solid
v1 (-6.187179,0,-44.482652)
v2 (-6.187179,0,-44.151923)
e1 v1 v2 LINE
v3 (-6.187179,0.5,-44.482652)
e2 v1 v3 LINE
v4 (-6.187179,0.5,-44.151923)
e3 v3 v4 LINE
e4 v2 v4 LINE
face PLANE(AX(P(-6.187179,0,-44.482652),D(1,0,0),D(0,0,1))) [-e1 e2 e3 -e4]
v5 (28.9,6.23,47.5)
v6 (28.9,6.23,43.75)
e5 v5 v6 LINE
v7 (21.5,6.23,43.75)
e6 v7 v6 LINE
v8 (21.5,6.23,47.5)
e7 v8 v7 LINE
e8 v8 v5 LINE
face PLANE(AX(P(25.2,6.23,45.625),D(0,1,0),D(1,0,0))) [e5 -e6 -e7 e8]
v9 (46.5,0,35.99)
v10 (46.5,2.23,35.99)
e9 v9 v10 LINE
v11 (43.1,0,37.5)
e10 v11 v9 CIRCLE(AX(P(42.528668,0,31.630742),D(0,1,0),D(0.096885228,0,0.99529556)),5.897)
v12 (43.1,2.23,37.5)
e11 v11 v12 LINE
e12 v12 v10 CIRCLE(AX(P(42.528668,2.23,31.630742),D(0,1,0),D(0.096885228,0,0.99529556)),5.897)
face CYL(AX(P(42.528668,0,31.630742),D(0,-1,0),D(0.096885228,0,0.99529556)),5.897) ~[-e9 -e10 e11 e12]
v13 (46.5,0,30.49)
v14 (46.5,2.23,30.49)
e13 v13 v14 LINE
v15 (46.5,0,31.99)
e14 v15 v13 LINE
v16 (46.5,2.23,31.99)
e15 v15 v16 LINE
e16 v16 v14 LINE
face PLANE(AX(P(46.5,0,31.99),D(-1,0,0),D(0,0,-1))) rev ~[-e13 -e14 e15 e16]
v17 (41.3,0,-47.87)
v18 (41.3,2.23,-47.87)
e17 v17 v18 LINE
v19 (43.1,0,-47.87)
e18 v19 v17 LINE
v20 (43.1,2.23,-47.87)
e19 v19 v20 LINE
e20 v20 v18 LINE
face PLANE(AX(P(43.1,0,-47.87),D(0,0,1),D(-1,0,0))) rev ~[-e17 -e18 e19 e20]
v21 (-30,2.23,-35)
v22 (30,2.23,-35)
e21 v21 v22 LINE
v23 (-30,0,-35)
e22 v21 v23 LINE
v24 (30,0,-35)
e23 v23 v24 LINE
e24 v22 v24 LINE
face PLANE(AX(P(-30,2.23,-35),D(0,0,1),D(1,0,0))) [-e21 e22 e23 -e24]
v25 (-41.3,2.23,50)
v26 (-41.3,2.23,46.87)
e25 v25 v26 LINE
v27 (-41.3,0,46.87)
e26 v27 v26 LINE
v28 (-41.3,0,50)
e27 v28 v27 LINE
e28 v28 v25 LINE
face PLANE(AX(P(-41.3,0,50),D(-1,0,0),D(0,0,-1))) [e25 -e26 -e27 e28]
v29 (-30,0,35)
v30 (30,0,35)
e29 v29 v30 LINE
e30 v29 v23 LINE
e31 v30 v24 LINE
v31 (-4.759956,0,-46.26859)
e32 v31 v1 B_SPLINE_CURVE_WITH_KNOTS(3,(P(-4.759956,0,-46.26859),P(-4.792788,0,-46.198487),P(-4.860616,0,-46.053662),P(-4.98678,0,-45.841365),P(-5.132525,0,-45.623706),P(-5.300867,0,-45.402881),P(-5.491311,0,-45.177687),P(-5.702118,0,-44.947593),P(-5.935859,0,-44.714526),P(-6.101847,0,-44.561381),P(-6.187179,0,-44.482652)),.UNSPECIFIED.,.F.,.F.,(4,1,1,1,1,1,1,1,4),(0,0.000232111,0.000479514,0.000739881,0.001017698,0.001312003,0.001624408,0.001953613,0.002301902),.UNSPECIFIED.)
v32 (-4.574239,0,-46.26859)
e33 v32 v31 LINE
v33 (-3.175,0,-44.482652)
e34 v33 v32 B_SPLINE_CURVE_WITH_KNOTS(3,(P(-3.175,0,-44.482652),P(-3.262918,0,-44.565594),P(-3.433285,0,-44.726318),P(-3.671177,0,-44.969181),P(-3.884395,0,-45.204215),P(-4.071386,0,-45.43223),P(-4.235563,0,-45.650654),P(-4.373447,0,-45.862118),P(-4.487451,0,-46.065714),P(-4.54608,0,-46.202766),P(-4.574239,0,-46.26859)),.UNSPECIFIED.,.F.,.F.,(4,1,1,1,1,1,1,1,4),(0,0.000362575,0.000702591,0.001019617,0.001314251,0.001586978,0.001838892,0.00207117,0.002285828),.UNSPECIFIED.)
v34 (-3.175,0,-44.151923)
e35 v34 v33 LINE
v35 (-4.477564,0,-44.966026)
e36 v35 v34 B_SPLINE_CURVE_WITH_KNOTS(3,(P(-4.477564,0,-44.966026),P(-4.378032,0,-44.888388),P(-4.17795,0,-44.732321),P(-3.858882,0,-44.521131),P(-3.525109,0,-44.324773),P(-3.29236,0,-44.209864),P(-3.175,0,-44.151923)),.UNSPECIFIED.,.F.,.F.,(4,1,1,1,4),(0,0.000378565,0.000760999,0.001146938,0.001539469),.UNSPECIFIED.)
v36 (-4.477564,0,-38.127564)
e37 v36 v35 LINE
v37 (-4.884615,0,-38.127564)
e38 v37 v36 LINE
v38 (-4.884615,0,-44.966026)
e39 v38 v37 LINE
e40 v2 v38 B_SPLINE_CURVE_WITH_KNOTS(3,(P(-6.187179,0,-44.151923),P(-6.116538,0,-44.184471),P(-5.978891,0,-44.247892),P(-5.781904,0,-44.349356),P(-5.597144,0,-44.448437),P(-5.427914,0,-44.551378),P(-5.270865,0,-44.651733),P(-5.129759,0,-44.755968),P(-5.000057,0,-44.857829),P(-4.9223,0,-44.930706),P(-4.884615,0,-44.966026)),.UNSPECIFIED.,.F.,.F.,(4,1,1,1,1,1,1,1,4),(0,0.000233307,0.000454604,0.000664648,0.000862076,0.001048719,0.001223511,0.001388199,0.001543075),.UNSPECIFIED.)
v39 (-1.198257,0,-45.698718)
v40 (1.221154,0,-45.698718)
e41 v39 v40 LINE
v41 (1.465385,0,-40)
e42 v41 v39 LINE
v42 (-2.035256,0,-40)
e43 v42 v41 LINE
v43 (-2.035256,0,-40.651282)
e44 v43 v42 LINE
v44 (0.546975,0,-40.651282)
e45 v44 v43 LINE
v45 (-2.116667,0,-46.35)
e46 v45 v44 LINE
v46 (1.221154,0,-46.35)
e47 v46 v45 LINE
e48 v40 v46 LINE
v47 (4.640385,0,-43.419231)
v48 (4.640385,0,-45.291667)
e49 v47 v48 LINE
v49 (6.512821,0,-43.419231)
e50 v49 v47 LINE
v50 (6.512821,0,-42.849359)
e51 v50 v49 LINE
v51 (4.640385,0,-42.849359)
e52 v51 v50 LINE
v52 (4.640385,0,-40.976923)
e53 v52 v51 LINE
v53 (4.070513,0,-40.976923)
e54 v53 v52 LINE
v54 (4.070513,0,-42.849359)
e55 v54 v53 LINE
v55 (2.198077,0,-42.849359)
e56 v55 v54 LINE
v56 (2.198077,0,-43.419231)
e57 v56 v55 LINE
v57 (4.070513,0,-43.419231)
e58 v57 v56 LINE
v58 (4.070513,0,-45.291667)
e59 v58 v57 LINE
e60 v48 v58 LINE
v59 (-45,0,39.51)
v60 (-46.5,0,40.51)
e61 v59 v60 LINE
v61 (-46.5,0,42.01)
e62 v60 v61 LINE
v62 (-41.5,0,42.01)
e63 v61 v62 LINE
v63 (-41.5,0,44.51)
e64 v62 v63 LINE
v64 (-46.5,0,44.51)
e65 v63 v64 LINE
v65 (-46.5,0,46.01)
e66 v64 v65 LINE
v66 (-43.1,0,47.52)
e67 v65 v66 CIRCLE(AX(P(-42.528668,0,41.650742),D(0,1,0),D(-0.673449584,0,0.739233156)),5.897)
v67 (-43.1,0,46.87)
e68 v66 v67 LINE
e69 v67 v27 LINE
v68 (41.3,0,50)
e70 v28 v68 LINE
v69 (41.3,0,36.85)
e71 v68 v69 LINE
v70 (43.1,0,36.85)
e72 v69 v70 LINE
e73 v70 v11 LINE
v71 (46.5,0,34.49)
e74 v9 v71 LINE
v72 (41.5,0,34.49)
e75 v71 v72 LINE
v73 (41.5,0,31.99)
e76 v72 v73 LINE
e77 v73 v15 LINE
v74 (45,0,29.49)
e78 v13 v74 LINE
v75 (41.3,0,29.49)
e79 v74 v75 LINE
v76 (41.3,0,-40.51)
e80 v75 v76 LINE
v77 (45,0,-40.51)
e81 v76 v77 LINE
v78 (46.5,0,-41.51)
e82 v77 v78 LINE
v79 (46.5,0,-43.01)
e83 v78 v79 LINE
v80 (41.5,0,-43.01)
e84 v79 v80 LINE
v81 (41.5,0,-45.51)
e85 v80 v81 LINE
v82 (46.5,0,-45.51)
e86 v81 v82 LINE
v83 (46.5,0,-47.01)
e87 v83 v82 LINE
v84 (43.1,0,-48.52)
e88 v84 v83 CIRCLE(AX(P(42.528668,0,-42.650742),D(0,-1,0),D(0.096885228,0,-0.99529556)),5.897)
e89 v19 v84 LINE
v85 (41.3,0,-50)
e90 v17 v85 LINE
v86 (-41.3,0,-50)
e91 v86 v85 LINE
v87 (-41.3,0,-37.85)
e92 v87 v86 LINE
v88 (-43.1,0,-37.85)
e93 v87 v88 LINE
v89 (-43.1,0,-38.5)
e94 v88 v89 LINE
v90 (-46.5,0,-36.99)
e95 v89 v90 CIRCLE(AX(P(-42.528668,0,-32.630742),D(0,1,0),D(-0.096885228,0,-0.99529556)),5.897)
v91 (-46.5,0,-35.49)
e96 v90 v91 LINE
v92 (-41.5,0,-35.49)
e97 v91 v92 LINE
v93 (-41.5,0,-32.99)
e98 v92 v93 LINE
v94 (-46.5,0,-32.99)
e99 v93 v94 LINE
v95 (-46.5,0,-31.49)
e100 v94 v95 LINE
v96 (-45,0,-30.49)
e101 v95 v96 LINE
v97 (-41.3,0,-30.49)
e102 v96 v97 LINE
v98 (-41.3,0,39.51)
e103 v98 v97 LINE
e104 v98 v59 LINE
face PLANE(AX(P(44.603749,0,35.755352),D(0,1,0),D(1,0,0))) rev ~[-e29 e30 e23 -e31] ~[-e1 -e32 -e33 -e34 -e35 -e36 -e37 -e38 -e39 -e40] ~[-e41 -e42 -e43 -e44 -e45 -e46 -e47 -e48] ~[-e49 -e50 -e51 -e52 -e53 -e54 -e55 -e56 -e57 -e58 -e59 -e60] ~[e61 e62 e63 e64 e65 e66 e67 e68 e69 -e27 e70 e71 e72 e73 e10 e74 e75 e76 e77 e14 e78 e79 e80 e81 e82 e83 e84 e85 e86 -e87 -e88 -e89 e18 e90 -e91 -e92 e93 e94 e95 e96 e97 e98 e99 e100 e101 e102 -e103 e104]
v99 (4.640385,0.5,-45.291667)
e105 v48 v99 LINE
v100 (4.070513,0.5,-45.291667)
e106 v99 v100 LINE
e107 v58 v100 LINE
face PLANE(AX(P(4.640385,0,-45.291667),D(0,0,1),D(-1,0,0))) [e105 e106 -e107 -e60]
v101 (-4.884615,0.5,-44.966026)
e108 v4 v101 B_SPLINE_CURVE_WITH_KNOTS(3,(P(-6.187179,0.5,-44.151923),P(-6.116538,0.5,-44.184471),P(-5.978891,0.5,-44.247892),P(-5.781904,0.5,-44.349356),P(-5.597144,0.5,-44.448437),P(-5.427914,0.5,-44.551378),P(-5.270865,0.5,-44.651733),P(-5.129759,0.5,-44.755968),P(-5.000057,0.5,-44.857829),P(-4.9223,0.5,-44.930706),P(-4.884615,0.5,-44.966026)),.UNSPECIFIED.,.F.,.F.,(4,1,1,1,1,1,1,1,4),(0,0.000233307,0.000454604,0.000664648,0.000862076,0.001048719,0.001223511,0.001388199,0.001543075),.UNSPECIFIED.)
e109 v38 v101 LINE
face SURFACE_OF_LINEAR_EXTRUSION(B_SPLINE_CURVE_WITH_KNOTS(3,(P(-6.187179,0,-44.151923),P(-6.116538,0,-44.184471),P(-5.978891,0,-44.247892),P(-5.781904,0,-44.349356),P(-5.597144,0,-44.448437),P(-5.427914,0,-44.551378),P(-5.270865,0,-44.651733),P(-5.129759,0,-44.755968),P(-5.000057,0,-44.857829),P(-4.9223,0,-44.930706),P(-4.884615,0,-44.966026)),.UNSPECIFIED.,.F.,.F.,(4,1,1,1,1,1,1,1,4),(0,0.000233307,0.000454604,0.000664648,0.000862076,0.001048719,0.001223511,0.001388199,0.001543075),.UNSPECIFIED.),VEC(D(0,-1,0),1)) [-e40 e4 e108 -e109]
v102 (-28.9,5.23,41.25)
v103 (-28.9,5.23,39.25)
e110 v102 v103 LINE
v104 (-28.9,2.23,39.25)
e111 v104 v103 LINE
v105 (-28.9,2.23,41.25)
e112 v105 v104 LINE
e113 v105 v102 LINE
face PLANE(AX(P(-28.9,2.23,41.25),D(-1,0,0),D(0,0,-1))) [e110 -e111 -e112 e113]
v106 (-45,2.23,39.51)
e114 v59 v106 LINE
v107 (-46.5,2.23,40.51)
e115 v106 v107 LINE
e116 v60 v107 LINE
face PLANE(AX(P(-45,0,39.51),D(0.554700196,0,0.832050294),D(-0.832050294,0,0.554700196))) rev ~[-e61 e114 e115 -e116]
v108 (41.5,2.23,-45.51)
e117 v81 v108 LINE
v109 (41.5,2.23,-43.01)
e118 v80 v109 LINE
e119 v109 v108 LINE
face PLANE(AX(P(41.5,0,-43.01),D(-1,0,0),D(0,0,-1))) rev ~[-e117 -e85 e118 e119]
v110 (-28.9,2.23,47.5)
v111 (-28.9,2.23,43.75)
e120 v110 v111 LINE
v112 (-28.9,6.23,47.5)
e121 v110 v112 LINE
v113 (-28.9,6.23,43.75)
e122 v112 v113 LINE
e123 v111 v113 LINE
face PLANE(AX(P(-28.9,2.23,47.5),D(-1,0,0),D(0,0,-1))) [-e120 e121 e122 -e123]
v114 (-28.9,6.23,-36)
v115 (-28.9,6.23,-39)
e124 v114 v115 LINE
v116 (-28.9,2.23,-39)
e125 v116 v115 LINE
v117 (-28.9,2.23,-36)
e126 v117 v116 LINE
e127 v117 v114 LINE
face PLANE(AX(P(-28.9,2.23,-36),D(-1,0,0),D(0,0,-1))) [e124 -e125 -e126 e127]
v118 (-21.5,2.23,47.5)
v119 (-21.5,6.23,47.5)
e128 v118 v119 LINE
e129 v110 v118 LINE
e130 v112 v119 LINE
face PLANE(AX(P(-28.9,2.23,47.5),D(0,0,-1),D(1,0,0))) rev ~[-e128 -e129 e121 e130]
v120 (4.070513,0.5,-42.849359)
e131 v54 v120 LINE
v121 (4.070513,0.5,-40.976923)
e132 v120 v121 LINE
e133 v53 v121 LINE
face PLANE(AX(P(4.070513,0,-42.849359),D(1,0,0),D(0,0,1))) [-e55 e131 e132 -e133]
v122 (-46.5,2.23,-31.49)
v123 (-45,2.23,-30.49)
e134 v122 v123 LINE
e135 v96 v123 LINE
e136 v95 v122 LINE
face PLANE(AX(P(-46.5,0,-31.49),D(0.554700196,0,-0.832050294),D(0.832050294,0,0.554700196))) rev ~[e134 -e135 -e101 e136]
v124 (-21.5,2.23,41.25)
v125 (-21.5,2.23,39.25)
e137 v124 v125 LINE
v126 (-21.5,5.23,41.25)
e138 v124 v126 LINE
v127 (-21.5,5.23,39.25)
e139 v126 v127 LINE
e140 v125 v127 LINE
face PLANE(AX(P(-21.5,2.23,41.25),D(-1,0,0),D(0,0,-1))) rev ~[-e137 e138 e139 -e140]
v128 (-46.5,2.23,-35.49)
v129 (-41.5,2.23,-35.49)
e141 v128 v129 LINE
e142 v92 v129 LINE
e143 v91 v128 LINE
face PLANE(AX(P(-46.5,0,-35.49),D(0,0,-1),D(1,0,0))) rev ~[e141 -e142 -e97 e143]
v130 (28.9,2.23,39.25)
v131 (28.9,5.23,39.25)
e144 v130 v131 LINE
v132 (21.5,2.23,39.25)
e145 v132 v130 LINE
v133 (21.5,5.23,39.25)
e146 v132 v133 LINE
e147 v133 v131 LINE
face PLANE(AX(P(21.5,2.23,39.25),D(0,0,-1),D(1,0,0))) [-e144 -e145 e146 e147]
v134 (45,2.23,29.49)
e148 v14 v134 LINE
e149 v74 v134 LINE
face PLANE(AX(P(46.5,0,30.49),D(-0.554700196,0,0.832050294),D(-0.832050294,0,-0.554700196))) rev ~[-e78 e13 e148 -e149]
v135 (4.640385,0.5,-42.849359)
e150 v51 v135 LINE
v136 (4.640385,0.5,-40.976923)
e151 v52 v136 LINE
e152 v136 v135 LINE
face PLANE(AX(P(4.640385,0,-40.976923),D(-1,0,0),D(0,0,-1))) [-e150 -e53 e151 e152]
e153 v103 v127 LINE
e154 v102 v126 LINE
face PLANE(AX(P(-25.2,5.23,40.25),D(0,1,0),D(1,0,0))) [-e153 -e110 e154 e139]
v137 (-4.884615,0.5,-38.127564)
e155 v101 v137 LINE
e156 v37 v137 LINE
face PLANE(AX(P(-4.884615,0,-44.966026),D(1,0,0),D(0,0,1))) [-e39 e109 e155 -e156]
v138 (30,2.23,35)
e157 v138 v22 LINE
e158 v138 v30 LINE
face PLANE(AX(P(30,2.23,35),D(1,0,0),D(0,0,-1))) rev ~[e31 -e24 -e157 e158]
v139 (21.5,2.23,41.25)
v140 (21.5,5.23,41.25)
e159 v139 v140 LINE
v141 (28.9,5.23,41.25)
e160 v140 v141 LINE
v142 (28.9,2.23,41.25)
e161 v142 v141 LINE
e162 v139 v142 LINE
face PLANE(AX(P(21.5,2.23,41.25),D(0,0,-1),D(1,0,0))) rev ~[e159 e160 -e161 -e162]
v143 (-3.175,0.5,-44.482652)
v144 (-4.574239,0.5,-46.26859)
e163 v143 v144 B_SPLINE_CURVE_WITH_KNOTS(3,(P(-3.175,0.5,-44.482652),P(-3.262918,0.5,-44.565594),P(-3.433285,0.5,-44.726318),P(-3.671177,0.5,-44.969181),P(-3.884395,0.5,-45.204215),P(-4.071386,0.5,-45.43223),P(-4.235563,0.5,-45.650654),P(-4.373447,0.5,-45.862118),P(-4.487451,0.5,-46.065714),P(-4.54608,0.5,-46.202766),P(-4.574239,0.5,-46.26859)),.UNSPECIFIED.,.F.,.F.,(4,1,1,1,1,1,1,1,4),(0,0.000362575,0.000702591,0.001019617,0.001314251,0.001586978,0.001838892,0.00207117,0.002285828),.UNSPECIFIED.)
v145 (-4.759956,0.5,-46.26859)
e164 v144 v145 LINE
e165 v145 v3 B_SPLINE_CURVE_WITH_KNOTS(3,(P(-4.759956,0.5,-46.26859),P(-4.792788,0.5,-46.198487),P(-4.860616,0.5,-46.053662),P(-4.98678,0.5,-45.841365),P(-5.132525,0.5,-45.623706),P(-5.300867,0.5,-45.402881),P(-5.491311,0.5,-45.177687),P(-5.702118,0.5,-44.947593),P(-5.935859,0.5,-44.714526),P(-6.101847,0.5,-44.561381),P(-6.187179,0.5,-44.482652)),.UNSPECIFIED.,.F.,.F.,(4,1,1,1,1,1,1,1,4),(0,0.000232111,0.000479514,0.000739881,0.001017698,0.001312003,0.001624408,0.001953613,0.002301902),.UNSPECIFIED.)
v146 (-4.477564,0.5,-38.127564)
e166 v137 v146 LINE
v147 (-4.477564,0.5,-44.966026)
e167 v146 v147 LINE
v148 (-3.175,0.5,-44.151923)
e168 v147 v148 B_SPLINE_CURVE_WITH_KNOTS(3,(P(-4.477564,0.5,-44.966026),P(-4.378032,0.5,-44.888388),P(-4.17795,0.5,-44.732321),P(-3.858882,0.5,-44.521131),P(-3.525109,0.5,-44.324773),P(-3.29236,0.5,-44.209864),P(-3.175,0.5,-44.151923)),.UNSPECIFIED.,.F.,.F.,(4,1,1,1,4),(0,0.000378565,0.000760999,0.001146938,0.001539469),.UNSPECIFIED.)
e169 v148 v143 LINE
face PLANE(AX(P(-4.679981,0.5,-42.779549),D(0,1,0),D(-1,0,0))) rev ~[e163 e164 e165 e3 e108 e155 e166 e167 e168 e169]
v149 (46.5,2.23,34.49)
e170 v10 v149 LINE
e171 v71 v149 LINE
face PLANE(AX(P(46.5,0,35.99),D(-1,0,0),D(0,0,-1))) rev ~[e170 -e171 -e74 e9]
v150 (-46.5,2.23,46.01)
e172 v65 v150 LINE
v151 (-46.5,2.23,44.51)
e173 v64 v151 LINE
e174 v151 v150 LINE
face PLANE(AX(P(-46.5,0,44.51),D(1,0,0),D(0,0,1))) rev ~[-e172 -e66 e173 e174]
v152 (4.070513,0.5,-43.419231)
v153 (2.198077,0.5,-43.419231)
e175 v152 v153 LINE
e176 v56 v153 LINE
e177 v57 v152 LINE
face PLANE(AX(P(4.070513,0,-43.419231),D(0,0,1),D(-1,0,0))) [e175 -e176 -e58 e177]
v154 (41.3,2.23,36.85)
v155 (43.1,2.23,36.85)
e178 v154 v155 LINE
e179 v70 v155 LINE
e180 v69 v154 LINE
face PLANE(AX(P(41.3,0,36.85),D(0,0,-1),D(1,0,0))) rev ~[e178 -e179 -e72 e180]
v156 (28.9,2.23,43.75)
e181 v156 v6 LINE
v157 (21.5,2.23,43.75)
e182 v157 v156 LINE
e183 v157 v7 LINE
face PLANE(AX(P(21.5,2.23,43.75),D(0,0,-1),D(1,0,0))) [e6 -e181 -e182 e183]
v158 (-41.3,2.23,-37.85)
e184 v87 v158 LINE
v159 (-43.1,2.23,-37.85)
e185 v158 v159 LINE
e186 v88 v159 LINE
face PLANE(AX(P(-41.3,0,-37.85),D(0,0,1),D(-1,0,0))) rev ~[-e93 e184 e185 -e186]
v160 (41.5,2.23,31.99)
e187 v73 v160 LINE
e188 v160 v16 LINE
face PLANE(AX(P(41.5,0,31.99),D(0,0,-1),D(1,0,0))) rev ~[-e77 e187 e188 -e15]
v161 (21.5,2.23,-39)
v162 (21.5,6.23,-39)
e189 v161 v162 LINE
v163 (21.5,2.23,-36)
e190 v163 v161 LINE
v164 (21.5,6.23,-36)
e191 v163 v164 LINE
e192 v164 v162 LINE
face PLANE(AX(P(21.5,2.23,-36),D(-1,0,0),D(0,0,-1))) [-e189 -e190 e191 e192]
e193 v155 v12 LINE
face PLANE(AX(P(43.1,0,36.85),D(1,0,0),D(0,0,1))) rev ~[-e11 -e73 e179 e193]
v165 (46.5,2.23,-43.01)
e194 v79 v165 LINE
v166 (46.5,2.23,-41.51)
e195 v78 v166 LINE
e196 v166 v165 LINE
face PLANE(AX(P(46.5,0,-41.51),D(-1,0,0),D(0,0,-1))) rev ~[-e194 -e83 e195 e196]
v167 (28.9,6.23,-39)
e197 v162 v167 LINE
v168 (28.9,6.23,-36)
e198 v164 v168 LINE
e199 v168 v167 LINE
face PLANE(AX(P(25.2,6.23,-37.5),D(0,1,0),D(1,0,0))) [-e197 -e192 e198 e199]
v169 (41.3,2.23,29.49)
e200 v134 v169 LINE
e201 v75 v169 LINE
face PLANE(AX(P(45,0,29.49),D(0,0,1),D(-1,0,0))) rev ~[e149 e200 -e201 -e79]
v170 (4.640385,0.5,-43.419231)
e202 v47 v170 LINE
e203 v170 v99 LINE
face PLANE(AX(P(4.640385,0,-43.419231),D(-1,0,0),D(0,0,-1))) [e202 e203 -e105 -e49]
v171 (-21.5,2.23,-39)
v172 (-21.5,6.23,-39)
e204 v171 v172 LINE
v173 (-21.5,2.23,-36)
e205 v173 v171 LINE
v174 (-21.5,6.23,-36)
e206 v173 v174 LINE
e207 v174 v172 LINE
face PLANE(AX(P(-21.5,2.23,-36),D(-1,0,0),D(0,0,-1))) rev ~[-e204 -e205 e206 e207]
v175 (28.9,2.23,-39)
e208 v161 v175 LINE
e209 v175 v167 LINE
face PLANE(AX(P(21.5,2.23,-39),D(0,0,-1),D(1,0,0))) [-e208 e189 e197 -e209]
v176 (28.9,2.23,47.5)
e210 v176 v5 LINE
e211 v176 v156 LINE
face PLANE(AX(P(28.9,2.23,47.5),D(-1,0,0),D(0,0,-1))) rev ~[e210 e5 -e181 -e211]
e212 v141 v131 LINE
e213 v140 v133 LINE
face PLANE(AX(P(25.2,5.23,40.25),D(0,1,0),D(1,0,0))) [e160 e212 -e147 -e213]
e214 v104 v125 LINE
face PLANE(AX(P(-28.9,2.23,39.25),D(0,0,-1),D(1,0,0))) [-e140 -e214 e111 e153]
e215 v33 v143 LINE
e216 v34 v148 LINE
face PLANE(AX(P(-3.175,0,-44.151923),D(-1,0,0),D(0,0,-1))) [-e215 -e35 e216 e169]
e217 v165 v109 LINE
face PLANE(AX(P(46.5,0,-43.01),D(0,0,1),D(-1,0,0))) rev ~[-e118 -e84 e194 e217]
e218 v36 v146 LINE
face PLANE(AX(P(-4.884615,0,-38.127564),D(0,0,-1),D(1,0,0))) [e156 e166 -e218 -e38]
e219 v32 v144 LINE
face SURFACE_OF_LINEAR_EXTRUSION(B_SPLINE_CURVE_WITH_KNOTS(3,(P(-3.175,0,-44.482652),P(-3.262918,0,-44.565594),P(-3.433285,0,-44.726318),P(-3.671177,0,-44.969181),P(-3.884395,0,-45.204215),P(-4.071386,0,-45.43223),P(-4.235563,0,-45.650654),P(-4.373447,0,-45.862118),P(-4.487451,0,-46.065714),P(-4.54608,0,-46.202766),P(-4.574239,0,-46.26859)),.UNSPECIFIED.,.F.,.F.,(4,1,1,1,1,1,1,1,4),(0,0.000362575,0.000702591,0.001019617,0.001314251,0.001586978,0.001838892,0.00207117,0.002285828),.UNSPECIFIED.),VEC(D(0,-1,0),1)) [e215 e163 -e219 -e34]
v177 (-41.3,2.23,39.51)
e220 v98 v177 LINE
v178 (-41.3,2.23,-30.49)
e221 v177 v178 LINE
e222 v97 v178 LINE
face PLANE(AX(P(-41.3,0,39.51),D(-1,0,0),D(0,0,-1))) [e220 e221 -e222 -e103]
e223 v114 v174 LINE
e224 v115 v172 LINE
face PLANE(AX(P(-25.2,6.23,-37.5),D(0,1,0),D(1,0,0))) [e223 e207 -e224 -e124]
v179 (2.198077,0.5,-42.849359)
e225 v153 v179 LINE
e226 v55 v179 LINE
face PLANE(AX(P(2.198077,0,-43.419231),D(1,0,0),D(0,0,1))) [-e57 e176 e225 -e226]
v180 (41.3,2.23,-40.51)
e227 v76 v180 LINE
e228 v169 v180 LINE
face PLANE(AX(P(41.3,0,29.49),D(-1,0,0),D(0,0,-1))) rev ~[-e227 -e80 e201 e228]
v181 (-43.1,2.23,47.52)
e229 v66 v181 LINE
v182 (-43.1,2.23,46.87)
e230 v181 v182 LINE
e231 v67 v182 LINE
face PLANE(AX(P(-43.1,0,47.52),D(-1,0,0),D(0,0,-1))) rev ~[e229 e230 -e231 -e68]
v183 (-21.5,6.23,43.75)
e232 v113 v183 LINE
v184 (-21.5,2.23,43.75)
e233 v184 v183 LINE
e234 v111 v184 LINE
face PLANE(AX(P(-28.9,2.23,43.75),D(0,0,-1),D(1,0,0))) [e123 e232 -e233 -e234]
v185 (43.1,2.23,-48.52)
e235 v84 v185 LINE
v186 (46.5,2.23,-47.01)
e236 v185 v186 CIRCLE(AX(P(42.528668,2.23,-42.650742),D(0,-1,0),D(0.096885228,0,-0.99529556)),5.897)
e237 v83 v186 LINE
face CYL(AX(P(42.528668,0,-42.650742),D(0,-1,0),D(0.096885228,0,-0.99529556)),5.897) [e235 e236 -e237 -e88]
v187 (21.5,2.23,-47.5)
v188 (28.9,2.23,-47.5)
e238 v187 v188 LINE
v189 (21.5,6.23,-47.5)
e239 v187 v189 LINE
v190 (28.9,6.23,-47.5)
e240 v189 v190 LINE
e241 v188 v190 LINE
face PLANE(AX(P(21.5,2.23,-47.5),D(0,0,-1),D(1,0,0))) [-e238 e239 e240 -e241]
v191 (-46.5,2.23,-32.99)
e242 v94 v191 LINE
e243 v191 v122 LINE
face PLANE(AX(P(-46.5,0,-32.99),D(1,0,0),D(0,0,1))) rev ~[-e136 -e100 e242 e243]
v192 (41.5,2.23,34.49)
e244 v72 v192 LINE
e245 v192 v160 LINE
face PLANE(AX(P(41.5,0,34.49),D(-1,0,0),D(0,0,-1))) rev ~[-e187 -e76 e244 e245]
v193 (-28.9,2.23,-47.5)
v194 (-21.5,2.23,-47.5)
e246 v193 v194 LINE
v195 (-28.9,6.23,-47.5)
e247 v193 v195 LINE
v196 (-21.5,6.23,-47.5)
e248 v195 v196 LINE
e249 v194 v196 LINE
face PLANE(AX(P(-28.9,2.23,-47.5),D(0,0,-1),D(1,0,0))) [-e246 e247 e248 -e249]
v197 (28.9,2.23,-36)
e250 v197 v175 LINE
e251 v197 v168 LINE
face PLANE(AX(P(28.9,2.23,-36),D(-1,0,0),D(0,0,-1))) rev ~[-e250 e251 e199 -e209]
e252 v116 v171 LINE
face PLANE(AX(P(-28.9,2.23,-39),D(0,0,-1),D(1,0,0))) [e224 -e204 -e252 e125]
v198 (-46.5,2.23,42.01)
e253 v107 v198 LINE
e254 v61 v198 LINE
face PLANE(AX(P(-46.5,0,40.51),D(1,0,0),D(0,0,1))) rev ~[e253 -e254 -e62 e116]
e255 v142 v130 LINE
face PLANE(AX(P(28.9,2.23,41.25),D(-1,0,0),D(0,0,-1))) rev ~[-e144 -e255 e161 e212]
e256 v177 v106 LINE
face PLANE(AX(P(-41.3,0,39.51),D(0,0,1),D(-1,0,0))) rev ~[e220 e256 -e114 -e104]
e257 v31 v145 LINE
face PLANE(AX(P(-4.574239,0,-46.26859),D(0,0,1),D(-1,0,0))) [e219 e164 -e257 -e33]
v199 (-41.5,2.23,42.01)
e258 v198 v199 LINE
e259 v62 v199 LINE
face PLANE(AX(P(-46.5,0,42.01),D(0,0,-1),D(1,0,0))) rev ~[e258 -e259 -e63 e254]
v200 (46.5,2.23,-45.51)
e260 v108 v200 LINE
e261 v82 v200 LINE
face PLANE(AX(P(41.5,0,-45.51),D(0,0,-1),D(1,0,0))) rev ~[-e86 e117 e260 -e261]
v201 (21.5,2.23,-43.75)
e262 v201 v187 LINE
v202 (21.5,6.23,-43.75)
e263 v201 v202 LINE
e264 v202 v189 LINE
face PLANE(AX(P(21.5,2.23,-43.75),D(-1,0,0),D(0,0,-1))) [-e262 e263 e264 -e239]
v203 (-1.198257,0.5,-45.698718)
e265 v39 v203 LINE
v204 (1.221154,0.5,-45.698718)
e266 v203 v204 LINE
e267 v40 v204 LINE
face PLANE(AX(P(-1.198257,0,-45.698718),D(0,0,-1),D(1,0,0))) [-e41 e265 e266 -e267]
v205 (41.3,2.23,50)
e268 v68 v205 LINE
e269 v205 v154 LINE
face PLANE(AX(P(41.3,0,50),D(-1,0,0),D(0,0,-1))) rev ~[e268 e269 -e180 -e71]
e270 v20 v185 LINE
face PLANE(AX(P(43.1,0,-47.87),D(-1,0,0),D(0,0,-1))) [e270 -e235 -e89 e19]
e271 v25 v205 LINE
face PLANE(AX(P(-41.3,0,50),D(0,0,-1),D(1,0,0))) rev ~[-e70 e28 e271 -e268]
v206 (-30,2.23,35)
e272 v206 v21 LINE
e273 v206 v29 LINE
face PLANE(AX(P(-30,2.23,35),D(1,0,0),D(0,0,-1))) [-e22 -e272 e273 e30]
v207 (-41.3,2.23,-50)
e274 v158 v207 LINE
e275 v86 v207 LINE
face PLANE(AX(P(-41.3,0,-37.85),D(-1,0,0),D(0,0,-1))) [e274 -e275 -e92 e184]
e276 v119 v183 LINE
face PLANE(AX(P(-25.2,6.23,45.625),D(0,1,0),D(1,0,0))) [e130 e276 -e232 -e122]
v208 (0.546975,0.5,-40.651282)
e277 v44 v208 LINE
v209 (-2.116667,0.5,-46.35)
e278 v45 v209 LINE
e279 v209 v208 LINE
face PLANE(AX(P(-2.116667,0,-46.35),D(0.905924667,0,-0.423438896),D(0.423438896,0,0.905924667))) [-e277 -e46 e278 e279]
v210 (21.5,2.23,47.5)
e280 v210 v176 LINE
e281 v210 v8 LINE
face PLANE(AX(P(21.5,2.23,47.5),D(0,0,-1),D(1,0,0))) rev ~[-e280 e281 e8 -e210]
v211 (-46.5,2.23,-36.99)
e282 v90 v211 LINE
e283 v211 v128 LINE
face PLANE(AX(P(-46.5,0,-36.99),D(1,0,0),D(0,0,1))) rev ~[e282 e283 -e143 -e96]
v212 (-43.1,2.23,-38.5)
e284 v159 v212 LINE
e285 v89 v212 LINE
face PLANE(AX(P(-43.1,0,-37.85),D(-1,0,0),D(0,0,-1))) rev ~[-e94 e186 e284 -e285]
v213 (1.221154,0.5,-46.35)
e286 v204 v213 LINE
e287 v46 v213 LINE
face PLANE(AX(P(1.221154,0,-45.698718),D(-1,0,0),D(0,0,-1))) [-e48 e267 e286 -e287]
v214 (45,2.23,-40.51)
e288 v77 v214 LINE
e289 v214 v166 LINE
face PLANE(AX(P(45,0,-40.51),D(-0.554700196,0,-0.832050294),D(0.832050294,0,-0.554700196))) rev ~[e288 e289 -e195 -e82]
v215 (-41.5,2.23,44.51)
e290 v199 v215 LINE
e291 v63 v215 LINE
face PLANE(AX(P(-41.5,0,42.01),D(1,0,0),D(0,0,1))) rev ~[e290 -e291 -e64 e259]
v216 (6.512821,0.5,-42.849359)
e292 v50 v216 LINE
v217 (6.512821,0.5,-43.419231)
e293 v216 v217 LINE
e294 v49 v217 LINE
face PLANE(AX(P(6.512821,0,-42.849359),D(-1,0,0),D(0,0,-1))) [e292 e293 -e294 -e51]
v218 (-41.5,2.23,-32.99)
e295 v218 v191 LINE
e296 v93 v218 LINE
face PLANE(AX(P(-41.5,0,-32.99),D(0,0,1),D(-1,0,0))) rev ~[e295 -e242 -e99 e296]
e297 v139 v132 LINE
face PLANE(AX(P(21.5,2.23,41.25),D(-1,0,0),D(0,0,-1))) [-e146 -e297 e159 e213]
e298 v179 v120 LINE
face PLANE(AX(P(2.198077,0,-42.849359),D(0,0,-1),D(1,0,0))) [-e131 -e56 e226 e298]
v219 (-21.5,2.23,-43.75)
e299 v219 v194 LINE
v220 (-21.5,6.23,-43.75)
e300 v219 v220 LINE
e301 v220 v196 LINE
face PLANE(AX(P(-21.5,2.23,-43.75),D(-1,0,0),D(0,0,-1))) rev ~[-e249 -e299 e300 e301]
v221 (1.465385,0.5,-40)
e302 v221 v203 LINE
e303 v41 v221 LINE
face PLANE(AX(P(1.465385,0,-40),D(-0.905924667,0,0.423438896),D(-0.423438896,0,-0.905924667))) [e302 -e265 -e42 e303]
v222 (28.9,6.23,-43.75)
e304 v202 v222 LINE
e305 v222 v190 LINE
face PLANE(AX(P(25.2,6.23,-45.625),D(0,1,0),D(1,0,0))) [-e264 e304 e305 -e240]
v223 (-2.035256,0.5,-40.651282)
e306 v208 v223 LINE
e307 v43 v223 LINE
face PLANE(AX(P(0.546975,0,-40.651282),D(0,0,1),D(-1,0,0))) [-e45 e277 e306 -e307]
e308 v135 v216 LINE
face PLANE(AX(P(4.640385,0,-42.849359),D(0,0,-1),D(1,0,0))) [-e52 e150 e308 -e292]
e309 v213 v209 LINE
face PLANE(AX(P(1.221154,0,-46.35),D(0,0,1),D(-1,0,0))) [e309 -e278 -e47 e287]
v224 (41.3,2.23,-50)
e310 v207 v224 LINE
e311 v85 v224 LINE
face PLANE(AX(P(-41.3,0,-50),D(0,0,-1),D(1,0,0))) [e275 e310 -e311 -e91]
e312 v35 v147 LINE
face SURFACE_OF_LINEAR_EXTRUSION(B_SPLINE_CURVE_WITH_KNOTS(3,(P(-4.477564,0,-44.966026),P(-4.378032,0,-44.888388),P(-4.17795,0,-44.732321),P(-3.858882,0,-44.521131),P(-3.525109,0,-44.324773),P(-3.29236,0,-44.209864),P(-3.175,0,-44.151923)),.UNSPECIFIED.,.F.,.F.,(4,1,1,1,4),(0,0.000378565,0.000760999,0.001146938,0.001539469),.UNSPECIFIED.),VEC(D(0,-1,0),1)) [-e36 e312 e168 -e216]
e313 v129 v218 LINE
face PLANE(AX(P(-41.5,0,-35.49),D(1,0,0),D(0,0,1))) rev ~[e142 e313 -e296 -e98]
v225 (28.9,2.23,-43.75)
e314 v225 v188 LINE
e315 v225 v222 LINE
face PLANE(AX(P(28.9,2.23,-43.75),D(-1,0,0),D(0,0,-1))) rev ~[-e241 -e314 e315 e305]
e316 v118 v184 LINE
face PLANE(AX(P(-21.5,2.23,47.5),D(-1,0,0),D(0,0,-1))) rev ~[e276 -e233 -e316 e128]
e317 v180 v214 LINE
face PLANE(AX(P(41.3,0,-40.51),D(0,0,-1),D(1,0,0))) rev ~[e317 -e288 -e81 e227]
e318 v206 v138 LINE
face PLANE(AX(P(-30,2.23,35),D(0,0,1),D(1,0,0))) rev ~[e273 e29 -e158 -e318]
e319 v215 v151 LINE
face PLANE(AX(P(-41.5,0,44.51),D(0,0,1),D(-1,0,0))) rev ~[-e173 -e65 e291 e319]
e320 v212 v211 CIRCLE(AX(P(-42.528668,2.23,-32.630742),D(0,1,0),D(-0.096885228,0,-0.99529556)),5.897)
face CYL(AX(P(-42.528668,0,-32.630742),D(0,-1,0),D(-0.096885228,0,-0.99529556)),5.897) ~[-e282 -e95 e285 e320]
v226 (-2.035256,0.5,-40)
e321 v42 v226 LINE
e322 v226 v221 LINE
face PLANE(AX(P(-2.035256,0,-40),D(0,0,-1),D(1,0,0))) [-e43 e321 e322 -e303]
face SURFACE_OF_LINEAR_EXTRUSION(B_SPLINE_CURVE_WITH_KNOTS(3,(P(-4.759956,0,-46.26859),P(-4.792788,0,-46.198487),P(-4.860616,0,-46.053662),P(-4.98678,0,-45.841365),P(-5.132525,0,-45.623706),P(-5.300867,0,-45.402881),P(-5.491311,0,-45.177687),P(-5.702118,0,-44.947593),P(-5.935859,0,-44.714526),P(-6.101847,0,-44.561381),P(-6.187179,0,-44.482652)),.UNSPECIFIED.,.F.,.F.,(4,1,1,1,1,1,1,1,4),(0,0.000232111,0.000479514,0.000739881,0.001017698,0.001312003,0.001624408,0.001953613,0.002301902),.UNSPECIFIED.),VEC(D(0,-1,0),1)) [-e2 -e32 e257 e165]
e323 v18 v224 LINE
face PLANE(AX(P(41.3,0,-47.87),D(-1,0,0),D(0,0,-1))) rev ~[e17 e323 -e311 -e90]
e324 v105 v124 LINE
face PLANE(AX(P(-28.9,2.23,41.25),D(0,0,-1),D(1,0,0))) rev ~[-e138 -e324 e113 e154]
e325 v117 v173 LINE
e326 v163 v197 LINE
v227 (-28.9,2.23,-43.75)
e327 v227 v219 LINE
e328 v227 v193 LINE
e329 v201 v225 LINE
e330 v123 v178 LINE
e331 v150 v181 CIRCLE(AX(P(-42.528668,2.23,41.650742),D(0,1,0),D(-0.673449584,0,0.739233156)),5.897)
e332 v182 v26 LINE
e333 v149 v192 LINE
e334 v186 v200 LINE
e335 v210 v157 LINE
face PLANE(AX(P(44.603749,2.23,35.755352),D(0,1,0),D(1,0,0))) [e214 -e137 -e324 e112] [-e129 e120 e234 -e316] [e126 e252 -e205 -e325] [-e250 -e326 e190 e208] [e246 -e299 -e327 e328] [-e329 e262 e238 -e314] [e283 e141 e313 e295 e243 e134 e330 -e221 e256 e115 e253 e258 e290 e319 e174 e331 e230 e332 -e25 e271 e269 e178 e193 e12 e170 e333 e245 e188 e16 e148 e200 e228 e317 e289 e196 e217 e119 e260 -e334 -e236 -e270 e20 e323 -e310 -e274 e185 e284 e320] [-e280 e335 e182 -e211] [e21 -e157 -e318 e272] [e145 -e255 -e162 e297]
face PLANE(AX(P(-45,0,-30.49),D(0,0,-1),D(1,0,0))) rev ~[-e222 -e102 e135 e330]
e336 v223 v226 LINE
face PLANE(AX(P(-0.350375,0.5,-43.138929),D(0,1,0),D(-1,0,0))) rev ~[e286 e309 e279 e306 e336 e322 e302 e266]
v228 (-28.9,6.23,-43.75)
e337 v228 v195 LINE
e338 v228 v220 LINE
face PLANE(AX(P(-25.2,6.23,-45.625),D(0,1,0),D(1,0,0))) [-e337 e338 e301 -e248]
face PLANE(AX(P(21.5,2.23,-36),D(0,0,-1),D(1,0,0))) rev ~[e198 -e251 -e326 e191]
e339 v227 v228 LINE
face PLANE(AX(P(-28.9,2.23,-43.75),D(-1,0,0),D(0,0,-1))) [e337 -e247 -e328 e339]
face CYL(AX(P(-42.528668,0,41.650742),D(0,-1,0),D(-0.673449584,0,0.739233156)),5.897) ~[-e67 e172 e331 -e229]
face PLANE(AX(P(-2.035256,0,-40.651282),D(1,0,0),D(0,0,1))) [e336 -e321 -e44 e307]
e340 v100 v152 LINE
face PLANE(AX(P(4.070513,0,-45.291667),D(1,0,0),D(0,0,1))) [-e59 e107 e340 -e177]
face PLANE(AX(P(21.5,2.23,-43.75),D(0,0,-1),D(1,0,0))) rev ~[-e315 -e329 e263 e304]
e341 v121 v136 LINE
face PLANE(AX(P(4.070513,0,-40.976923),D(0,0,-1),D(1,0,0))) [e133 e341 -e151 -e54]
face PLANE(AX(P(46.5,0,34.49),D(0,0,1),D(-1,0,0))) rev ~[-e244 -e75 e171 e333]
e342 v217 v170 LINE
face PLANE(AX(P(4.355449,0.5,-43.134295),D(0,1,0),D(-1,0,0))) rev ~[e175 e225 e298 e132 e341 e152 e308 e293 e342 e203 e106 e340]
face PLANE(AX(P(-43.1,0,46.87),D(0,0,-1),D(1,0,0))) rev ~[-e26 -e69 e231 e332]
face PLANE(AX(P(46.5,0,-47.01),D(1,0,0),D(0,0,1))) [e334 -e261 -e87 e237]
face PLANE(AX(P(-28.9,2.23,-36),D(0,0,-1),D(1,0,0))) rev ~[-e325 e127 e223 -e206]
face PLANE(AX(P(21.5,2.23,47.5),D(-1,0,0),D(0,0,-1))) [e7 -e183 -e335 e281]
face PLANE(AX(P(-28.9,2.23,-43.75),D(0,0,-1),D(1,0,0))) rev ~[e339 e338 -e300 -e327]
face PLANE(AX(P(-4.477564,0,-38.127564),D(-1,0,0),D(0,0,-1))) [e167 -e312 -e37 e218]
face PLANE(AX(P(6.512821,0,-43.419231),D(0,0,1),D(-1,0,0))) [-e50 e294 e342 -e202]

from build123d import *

# Parameters (mm, degrees)
SKETCH1_W           = 0.2
SKETCH1_H           = 2.5
SKETCH1_W_2         = 82.6
SKETCH1_H_2         = 100
BOSS_EXTRUDE1_DEPTH = 2.23
SKETCH2_W           = 7.4
SKETCH2_H           = 3.75
SKETCH2_H_2         = 3
BOSS_EXTRUDE2_DEPTH = 4
SKETCH3_W           = 60
SKETCH3_H           = 70
CUT_EXTRUDE1_DEPTH  = 10
CUT_EXTRUDE2_DEPTH  = 0.5
SKETCH5_W           = 7.4
SKETCH5_H           = 2
BOSS_EXTRUDE3_DEPTH = 3


with BuildPart() as part:
    # Sketch1 → Boss-Extrude1 (new body)
    with BuildSketch(Plane(origin=(0, 0, 0), x_dir=(1, 0, 0), z_dir=(0, 1, 0))):
        with BuildLine():
            Line((43.1, -36.85), (43.1, -37.5))
            ThreePointArc((43.1, -37.5), (44.922195524, -37.020142239), (46.5, -35.99))
            Line((46.5, -35.99), (46.5, -34.49))
            Line((46.5, -34.49), (43.1, -34.49))
            Line((43.1, -34.49), (43.1, -36.85))
        make_face()
        Polygon((41.5, -34.49), (41.3, -34.49), (41.3, -36.85), (43.1, -36.85), (43.1, -34.49), align=None)
        Polygon((45, -29.49), (41.3, -29.49), (41.3, -31.99), (41.5, -31.99), (46.5, -31.99), (46.5, -30.49), align=None)
        with Locations((41.4, -33.24)):
            Rectangle(SKETCH1_W, SKETCH1_H)
        Rectangle(SKETCH1_W_2, SKETCH1_H_2)
        Polygon((46.5, 43.01), (41.5, 43.01), (41.3, 43.01), (41.3, 40.51), (45, 40.51), (46.5, 41.51), align=None)
        with Locations((41.4, 44.26)):
            Rectangle(SKETCH1_W, SKETCH1_H)
        Polygon((41.5, 45.51), (43.1, 45.51), (43.1, 47.87), (41.3, 47.87), (41.3, 45.51), align=None)
        with BuildLine():
            ThreePointArc((43.1, 48.52), (44.922195524, 48.040142239), (46.5, 47.01))
            Line((46.5, 47.01), (46.5, 45.51))
            Line((46.5, 45.51), (43.1, 45.51))
            Line((43.1, 45.51), (43.1, 47.87))
            Line((43.1, 47.87), (43.1, 48.52))
        make_face()
        with BuildLine():
            Line((-43.1, -46.87), (-41.3, -46.87))
            Line((-41.3, -46.87), (-41.3, -44.51))
            Line((-41.3, -44.51), (-41.5, -44.51))
            Line((-41.5, -44.51), (-46.5, -44.51))
            Line((-46.5, -44.51), (-46.5, -46.01))
            ThreePointArc((-46.5, -46.01), (-44.922195524, -47.040142239), (-43.1, -47.52))
            Line((-43.1, -47.52), (-43.1, -46.87))
        make_face()
        Polygon((-41.3, -44.51), (-41.3, -39.51), (-45, -39.51), (-46.5, -40.51), (-46.5, -42.01), (-41.5, -42.01), (-41.5, -44.51), align=None)
        Polygon((-41.3, 30.49), (-41.3, 35.49), (-41.5, 35.49), (-41.5, 32.99), (-46.5, 32.99), (-46.5, 31.49), (-45, 30.49), align=None)
        with BuildLine():
            Line((-41.3, 35.49), (-41.3, 37.85))
            Line((-41.3, 37.85), (-43.1, 37.85))
            Line((-43.1, 37.85), (-43.1, 38.5))
            ThreePointArc((-43.1, 38.5), (-44.922195524, 38.020142239), (-46.5, 36.99))
            Line((-46.5, 36.99), (-46.5, 35.49))
            Line((-46.5, 35.49), (-41.5, 35.49))
            Line((-41.5, 35.49), (-41.3, 35.49))
        make_face()
    extrude(amount=BOSS_EXTRUDE1_DEPTH)

    # Sketch2 → Boss-Extrude2 (add)
    with BuildSketch(Plane(origin=(0, 2.23, 0), x_dir=(1, 0, 0), z_dir=(0, 1, 0))):
        with Locations((-25.2, -45.625)):
            Rectangle(SKETCH2_W, SKETCH2_H)
        with Locations((25.2, -45.625)):
            Rectangle(SKETCH2_W, SKETCH2_H)
        with Locations((25.2, 45.625)):
            Rectangle(SKETCH2_W, SKETCH2_H)
        with Locations((-25.2, 45.625)):
            Rectangle(SKETCH2_W, SKETCH2_H)
        with Locations((-25.2, 37.5)):
            Rectangle(SKETCH2_W, SKETCH2_H_2)
        with Locations((25.2, 37.5)):
            Rectangle(SKETCH2_W, SKETCH2_H_2)
    extrude(amount=BOSS_EXTRUDE2_DEPTH)

    # Sketch3 → Cut-Extrude1 (cut)
    with BuildSketch(Plane(origin=(0, 2.23, 0), x_dir=(1, 0, 0), z_dir=(0, 1, 0))):
        Rectangle(SKETCH3_W, SKETCH3_H)
    extrude(amount=-CUT_EXTRUDE1_DEPTH, mode=Mode.SUBTRACT)

    # Sketch4 → Cut-Extrude2 (cut)
    with BuildSketch(Plane.XZ):
        Polygon((4.640384615, -43.419230769), (4.640384615, -45.291666667), (4.070512821, -45.291666667), (4.070512821, -43.419230769), (2.198076923, -43.419230769), (2.198076923, -42.849358974), (4.070512821, -42.849358974), (4.070512821, -40.976923077), (4.640384615, -40.976923077), (4.640384615, -42.849358974), (6.512820513, -42.849358974), (6.512820513, -43.419230769), align=None)
        Polygon((1.221153846, -45.698717949), (1.221153846, -46.35), (-2.116666667, -46.35), (0.54697516, -40.651282051), (-2.03525641, -40.651282051), (-2.03525641, -40), (1.465384615, -40), (-1.198257212, -45.698717949), align=None)
        with BuildLine():
            add(Edge.make_bspline(
                [(-3.175, -44.482652244), (-3.262918211, -44.565594294), (-3.433284709, -44.726318068), (-3.671176807, -44.969181062), (-3.884395029, -45.204215059), (-4.071386431, -45.432230465), (-4.235563138, -45.650653984), (-4.373446797, -45.862117777), (-4.487450991, -46.065713922), (-4.546079998, -46.202765549), (-4.574238782, -46.268589744)],
                knots=[0, 0, 0, 0, 0.000362575, 0.000702591, 0.001019617, 0.001314251, 0.001586978, 0.001838892, 0.00207117, 0.002285828, 0.002285828, 0.002285828, 0.002285828], degree=3))
            Line((-4.574238782, -46.268589744), (-4.759955929, -46.268589744))
            add(Edge.make_bspline(
                [(-4.759955929, -46.268589744), (-4.792788221, -46.198486652), (-4.860615985, -46.053661673), (-4.986779978, -45.841364869), (-5.132525091, -45.623706079), (-5.300867212, -45.402881295), (-5.491310702, -45.177687257), (-5.702118152, -44.94759275), (-5.93585869, -44.714525691), (-6.101847246, -44.561381426), (-6.187179487, -44.482652244)],
                knots=[0, 0, 0, 0, 0.000232111, 0.000479514, 0.000739881, 0.001017698, 0.001312003, 0.001624408, 0.001953613, 0.002301902, 0.002301902, 0.002301902, 0.002301902], degree=3))
            Line((-6.187179487, -44.482652244), (-6.187179487, -44.151923077))
            add(Edge.make_bspline(
                [(-6.187179487, -44.151923077), (-6.116537815, -44.184471117), (-5.978890638, -44.247891839), (-5.781903944, -44.34935602), (-5.597143614, -44.448436612), (-5.427913951, -44.551377879), (-5.270864773, -44.651733434), (-5.129759329, -44.755968393), (-5.000056754, -44.857829341), (-4.922299946, -44.930706152), (-4.884615385, -44.966025641)],
                knots=[0, 0, 0, 0, 0.000233307, 0.000454604, 0.000664648, 0.000862076, 0.001048719, 0.001223511, 0.001388199, 0.001543075, 0.001543075, 0.001543075, 0.001543075], degree=3))
            Line((-4.884615385, -44.966025641), (-4.884615385, -38.127564103))
            Line((-4.884615385, -38.127564103), (-4.477564103, -38.127564103))
            Line((-4.477564103, -38.127564103), (-4.477564103, -44.966025641))
            add(Edge.make_bspline(
                [(-4.477564103, -44.966025641), (-4.378031962, -44.888388472), (-4.177950241, -44.732320508), (-3.858882125, -44.521130617), (-3.525108924, -44.32477265), (-3.292360048, -44.209864), (-3.175, -44.151923077)],
                knots=[0, 0, 0, 0, 0.000378565, 0.000760999, 0.001146938, 0.001539469, 0.001539469, 0.001539469, 0.001539469], degree=3))
            Line((-3.175, -44.151923077), (-3.175, -44.482652244))
        make_face()
    extrude(amount=-CUT_EXTRUDE2_DEPTH, mode=Mode.SUBTRACT)

    # Sketch5 → Boss-Extrude3 (add)
    with BuildSketch(Plane(origin=(0, 2.23, 0), x_dir=(1, 0, 0), z_dir=(0, 1, 0))):
        with Locations((-25.2, -40.25)):
            Rectangle(SKETCH5_W, SKETCH5_H)
        with Locations((25.2, -40.25)):
            Rectangle(SKETCH5_W, SKETCH5_H)
    extrude(amount=BOSS_EXTRUDE3_DEPTH)


solid = part.part
